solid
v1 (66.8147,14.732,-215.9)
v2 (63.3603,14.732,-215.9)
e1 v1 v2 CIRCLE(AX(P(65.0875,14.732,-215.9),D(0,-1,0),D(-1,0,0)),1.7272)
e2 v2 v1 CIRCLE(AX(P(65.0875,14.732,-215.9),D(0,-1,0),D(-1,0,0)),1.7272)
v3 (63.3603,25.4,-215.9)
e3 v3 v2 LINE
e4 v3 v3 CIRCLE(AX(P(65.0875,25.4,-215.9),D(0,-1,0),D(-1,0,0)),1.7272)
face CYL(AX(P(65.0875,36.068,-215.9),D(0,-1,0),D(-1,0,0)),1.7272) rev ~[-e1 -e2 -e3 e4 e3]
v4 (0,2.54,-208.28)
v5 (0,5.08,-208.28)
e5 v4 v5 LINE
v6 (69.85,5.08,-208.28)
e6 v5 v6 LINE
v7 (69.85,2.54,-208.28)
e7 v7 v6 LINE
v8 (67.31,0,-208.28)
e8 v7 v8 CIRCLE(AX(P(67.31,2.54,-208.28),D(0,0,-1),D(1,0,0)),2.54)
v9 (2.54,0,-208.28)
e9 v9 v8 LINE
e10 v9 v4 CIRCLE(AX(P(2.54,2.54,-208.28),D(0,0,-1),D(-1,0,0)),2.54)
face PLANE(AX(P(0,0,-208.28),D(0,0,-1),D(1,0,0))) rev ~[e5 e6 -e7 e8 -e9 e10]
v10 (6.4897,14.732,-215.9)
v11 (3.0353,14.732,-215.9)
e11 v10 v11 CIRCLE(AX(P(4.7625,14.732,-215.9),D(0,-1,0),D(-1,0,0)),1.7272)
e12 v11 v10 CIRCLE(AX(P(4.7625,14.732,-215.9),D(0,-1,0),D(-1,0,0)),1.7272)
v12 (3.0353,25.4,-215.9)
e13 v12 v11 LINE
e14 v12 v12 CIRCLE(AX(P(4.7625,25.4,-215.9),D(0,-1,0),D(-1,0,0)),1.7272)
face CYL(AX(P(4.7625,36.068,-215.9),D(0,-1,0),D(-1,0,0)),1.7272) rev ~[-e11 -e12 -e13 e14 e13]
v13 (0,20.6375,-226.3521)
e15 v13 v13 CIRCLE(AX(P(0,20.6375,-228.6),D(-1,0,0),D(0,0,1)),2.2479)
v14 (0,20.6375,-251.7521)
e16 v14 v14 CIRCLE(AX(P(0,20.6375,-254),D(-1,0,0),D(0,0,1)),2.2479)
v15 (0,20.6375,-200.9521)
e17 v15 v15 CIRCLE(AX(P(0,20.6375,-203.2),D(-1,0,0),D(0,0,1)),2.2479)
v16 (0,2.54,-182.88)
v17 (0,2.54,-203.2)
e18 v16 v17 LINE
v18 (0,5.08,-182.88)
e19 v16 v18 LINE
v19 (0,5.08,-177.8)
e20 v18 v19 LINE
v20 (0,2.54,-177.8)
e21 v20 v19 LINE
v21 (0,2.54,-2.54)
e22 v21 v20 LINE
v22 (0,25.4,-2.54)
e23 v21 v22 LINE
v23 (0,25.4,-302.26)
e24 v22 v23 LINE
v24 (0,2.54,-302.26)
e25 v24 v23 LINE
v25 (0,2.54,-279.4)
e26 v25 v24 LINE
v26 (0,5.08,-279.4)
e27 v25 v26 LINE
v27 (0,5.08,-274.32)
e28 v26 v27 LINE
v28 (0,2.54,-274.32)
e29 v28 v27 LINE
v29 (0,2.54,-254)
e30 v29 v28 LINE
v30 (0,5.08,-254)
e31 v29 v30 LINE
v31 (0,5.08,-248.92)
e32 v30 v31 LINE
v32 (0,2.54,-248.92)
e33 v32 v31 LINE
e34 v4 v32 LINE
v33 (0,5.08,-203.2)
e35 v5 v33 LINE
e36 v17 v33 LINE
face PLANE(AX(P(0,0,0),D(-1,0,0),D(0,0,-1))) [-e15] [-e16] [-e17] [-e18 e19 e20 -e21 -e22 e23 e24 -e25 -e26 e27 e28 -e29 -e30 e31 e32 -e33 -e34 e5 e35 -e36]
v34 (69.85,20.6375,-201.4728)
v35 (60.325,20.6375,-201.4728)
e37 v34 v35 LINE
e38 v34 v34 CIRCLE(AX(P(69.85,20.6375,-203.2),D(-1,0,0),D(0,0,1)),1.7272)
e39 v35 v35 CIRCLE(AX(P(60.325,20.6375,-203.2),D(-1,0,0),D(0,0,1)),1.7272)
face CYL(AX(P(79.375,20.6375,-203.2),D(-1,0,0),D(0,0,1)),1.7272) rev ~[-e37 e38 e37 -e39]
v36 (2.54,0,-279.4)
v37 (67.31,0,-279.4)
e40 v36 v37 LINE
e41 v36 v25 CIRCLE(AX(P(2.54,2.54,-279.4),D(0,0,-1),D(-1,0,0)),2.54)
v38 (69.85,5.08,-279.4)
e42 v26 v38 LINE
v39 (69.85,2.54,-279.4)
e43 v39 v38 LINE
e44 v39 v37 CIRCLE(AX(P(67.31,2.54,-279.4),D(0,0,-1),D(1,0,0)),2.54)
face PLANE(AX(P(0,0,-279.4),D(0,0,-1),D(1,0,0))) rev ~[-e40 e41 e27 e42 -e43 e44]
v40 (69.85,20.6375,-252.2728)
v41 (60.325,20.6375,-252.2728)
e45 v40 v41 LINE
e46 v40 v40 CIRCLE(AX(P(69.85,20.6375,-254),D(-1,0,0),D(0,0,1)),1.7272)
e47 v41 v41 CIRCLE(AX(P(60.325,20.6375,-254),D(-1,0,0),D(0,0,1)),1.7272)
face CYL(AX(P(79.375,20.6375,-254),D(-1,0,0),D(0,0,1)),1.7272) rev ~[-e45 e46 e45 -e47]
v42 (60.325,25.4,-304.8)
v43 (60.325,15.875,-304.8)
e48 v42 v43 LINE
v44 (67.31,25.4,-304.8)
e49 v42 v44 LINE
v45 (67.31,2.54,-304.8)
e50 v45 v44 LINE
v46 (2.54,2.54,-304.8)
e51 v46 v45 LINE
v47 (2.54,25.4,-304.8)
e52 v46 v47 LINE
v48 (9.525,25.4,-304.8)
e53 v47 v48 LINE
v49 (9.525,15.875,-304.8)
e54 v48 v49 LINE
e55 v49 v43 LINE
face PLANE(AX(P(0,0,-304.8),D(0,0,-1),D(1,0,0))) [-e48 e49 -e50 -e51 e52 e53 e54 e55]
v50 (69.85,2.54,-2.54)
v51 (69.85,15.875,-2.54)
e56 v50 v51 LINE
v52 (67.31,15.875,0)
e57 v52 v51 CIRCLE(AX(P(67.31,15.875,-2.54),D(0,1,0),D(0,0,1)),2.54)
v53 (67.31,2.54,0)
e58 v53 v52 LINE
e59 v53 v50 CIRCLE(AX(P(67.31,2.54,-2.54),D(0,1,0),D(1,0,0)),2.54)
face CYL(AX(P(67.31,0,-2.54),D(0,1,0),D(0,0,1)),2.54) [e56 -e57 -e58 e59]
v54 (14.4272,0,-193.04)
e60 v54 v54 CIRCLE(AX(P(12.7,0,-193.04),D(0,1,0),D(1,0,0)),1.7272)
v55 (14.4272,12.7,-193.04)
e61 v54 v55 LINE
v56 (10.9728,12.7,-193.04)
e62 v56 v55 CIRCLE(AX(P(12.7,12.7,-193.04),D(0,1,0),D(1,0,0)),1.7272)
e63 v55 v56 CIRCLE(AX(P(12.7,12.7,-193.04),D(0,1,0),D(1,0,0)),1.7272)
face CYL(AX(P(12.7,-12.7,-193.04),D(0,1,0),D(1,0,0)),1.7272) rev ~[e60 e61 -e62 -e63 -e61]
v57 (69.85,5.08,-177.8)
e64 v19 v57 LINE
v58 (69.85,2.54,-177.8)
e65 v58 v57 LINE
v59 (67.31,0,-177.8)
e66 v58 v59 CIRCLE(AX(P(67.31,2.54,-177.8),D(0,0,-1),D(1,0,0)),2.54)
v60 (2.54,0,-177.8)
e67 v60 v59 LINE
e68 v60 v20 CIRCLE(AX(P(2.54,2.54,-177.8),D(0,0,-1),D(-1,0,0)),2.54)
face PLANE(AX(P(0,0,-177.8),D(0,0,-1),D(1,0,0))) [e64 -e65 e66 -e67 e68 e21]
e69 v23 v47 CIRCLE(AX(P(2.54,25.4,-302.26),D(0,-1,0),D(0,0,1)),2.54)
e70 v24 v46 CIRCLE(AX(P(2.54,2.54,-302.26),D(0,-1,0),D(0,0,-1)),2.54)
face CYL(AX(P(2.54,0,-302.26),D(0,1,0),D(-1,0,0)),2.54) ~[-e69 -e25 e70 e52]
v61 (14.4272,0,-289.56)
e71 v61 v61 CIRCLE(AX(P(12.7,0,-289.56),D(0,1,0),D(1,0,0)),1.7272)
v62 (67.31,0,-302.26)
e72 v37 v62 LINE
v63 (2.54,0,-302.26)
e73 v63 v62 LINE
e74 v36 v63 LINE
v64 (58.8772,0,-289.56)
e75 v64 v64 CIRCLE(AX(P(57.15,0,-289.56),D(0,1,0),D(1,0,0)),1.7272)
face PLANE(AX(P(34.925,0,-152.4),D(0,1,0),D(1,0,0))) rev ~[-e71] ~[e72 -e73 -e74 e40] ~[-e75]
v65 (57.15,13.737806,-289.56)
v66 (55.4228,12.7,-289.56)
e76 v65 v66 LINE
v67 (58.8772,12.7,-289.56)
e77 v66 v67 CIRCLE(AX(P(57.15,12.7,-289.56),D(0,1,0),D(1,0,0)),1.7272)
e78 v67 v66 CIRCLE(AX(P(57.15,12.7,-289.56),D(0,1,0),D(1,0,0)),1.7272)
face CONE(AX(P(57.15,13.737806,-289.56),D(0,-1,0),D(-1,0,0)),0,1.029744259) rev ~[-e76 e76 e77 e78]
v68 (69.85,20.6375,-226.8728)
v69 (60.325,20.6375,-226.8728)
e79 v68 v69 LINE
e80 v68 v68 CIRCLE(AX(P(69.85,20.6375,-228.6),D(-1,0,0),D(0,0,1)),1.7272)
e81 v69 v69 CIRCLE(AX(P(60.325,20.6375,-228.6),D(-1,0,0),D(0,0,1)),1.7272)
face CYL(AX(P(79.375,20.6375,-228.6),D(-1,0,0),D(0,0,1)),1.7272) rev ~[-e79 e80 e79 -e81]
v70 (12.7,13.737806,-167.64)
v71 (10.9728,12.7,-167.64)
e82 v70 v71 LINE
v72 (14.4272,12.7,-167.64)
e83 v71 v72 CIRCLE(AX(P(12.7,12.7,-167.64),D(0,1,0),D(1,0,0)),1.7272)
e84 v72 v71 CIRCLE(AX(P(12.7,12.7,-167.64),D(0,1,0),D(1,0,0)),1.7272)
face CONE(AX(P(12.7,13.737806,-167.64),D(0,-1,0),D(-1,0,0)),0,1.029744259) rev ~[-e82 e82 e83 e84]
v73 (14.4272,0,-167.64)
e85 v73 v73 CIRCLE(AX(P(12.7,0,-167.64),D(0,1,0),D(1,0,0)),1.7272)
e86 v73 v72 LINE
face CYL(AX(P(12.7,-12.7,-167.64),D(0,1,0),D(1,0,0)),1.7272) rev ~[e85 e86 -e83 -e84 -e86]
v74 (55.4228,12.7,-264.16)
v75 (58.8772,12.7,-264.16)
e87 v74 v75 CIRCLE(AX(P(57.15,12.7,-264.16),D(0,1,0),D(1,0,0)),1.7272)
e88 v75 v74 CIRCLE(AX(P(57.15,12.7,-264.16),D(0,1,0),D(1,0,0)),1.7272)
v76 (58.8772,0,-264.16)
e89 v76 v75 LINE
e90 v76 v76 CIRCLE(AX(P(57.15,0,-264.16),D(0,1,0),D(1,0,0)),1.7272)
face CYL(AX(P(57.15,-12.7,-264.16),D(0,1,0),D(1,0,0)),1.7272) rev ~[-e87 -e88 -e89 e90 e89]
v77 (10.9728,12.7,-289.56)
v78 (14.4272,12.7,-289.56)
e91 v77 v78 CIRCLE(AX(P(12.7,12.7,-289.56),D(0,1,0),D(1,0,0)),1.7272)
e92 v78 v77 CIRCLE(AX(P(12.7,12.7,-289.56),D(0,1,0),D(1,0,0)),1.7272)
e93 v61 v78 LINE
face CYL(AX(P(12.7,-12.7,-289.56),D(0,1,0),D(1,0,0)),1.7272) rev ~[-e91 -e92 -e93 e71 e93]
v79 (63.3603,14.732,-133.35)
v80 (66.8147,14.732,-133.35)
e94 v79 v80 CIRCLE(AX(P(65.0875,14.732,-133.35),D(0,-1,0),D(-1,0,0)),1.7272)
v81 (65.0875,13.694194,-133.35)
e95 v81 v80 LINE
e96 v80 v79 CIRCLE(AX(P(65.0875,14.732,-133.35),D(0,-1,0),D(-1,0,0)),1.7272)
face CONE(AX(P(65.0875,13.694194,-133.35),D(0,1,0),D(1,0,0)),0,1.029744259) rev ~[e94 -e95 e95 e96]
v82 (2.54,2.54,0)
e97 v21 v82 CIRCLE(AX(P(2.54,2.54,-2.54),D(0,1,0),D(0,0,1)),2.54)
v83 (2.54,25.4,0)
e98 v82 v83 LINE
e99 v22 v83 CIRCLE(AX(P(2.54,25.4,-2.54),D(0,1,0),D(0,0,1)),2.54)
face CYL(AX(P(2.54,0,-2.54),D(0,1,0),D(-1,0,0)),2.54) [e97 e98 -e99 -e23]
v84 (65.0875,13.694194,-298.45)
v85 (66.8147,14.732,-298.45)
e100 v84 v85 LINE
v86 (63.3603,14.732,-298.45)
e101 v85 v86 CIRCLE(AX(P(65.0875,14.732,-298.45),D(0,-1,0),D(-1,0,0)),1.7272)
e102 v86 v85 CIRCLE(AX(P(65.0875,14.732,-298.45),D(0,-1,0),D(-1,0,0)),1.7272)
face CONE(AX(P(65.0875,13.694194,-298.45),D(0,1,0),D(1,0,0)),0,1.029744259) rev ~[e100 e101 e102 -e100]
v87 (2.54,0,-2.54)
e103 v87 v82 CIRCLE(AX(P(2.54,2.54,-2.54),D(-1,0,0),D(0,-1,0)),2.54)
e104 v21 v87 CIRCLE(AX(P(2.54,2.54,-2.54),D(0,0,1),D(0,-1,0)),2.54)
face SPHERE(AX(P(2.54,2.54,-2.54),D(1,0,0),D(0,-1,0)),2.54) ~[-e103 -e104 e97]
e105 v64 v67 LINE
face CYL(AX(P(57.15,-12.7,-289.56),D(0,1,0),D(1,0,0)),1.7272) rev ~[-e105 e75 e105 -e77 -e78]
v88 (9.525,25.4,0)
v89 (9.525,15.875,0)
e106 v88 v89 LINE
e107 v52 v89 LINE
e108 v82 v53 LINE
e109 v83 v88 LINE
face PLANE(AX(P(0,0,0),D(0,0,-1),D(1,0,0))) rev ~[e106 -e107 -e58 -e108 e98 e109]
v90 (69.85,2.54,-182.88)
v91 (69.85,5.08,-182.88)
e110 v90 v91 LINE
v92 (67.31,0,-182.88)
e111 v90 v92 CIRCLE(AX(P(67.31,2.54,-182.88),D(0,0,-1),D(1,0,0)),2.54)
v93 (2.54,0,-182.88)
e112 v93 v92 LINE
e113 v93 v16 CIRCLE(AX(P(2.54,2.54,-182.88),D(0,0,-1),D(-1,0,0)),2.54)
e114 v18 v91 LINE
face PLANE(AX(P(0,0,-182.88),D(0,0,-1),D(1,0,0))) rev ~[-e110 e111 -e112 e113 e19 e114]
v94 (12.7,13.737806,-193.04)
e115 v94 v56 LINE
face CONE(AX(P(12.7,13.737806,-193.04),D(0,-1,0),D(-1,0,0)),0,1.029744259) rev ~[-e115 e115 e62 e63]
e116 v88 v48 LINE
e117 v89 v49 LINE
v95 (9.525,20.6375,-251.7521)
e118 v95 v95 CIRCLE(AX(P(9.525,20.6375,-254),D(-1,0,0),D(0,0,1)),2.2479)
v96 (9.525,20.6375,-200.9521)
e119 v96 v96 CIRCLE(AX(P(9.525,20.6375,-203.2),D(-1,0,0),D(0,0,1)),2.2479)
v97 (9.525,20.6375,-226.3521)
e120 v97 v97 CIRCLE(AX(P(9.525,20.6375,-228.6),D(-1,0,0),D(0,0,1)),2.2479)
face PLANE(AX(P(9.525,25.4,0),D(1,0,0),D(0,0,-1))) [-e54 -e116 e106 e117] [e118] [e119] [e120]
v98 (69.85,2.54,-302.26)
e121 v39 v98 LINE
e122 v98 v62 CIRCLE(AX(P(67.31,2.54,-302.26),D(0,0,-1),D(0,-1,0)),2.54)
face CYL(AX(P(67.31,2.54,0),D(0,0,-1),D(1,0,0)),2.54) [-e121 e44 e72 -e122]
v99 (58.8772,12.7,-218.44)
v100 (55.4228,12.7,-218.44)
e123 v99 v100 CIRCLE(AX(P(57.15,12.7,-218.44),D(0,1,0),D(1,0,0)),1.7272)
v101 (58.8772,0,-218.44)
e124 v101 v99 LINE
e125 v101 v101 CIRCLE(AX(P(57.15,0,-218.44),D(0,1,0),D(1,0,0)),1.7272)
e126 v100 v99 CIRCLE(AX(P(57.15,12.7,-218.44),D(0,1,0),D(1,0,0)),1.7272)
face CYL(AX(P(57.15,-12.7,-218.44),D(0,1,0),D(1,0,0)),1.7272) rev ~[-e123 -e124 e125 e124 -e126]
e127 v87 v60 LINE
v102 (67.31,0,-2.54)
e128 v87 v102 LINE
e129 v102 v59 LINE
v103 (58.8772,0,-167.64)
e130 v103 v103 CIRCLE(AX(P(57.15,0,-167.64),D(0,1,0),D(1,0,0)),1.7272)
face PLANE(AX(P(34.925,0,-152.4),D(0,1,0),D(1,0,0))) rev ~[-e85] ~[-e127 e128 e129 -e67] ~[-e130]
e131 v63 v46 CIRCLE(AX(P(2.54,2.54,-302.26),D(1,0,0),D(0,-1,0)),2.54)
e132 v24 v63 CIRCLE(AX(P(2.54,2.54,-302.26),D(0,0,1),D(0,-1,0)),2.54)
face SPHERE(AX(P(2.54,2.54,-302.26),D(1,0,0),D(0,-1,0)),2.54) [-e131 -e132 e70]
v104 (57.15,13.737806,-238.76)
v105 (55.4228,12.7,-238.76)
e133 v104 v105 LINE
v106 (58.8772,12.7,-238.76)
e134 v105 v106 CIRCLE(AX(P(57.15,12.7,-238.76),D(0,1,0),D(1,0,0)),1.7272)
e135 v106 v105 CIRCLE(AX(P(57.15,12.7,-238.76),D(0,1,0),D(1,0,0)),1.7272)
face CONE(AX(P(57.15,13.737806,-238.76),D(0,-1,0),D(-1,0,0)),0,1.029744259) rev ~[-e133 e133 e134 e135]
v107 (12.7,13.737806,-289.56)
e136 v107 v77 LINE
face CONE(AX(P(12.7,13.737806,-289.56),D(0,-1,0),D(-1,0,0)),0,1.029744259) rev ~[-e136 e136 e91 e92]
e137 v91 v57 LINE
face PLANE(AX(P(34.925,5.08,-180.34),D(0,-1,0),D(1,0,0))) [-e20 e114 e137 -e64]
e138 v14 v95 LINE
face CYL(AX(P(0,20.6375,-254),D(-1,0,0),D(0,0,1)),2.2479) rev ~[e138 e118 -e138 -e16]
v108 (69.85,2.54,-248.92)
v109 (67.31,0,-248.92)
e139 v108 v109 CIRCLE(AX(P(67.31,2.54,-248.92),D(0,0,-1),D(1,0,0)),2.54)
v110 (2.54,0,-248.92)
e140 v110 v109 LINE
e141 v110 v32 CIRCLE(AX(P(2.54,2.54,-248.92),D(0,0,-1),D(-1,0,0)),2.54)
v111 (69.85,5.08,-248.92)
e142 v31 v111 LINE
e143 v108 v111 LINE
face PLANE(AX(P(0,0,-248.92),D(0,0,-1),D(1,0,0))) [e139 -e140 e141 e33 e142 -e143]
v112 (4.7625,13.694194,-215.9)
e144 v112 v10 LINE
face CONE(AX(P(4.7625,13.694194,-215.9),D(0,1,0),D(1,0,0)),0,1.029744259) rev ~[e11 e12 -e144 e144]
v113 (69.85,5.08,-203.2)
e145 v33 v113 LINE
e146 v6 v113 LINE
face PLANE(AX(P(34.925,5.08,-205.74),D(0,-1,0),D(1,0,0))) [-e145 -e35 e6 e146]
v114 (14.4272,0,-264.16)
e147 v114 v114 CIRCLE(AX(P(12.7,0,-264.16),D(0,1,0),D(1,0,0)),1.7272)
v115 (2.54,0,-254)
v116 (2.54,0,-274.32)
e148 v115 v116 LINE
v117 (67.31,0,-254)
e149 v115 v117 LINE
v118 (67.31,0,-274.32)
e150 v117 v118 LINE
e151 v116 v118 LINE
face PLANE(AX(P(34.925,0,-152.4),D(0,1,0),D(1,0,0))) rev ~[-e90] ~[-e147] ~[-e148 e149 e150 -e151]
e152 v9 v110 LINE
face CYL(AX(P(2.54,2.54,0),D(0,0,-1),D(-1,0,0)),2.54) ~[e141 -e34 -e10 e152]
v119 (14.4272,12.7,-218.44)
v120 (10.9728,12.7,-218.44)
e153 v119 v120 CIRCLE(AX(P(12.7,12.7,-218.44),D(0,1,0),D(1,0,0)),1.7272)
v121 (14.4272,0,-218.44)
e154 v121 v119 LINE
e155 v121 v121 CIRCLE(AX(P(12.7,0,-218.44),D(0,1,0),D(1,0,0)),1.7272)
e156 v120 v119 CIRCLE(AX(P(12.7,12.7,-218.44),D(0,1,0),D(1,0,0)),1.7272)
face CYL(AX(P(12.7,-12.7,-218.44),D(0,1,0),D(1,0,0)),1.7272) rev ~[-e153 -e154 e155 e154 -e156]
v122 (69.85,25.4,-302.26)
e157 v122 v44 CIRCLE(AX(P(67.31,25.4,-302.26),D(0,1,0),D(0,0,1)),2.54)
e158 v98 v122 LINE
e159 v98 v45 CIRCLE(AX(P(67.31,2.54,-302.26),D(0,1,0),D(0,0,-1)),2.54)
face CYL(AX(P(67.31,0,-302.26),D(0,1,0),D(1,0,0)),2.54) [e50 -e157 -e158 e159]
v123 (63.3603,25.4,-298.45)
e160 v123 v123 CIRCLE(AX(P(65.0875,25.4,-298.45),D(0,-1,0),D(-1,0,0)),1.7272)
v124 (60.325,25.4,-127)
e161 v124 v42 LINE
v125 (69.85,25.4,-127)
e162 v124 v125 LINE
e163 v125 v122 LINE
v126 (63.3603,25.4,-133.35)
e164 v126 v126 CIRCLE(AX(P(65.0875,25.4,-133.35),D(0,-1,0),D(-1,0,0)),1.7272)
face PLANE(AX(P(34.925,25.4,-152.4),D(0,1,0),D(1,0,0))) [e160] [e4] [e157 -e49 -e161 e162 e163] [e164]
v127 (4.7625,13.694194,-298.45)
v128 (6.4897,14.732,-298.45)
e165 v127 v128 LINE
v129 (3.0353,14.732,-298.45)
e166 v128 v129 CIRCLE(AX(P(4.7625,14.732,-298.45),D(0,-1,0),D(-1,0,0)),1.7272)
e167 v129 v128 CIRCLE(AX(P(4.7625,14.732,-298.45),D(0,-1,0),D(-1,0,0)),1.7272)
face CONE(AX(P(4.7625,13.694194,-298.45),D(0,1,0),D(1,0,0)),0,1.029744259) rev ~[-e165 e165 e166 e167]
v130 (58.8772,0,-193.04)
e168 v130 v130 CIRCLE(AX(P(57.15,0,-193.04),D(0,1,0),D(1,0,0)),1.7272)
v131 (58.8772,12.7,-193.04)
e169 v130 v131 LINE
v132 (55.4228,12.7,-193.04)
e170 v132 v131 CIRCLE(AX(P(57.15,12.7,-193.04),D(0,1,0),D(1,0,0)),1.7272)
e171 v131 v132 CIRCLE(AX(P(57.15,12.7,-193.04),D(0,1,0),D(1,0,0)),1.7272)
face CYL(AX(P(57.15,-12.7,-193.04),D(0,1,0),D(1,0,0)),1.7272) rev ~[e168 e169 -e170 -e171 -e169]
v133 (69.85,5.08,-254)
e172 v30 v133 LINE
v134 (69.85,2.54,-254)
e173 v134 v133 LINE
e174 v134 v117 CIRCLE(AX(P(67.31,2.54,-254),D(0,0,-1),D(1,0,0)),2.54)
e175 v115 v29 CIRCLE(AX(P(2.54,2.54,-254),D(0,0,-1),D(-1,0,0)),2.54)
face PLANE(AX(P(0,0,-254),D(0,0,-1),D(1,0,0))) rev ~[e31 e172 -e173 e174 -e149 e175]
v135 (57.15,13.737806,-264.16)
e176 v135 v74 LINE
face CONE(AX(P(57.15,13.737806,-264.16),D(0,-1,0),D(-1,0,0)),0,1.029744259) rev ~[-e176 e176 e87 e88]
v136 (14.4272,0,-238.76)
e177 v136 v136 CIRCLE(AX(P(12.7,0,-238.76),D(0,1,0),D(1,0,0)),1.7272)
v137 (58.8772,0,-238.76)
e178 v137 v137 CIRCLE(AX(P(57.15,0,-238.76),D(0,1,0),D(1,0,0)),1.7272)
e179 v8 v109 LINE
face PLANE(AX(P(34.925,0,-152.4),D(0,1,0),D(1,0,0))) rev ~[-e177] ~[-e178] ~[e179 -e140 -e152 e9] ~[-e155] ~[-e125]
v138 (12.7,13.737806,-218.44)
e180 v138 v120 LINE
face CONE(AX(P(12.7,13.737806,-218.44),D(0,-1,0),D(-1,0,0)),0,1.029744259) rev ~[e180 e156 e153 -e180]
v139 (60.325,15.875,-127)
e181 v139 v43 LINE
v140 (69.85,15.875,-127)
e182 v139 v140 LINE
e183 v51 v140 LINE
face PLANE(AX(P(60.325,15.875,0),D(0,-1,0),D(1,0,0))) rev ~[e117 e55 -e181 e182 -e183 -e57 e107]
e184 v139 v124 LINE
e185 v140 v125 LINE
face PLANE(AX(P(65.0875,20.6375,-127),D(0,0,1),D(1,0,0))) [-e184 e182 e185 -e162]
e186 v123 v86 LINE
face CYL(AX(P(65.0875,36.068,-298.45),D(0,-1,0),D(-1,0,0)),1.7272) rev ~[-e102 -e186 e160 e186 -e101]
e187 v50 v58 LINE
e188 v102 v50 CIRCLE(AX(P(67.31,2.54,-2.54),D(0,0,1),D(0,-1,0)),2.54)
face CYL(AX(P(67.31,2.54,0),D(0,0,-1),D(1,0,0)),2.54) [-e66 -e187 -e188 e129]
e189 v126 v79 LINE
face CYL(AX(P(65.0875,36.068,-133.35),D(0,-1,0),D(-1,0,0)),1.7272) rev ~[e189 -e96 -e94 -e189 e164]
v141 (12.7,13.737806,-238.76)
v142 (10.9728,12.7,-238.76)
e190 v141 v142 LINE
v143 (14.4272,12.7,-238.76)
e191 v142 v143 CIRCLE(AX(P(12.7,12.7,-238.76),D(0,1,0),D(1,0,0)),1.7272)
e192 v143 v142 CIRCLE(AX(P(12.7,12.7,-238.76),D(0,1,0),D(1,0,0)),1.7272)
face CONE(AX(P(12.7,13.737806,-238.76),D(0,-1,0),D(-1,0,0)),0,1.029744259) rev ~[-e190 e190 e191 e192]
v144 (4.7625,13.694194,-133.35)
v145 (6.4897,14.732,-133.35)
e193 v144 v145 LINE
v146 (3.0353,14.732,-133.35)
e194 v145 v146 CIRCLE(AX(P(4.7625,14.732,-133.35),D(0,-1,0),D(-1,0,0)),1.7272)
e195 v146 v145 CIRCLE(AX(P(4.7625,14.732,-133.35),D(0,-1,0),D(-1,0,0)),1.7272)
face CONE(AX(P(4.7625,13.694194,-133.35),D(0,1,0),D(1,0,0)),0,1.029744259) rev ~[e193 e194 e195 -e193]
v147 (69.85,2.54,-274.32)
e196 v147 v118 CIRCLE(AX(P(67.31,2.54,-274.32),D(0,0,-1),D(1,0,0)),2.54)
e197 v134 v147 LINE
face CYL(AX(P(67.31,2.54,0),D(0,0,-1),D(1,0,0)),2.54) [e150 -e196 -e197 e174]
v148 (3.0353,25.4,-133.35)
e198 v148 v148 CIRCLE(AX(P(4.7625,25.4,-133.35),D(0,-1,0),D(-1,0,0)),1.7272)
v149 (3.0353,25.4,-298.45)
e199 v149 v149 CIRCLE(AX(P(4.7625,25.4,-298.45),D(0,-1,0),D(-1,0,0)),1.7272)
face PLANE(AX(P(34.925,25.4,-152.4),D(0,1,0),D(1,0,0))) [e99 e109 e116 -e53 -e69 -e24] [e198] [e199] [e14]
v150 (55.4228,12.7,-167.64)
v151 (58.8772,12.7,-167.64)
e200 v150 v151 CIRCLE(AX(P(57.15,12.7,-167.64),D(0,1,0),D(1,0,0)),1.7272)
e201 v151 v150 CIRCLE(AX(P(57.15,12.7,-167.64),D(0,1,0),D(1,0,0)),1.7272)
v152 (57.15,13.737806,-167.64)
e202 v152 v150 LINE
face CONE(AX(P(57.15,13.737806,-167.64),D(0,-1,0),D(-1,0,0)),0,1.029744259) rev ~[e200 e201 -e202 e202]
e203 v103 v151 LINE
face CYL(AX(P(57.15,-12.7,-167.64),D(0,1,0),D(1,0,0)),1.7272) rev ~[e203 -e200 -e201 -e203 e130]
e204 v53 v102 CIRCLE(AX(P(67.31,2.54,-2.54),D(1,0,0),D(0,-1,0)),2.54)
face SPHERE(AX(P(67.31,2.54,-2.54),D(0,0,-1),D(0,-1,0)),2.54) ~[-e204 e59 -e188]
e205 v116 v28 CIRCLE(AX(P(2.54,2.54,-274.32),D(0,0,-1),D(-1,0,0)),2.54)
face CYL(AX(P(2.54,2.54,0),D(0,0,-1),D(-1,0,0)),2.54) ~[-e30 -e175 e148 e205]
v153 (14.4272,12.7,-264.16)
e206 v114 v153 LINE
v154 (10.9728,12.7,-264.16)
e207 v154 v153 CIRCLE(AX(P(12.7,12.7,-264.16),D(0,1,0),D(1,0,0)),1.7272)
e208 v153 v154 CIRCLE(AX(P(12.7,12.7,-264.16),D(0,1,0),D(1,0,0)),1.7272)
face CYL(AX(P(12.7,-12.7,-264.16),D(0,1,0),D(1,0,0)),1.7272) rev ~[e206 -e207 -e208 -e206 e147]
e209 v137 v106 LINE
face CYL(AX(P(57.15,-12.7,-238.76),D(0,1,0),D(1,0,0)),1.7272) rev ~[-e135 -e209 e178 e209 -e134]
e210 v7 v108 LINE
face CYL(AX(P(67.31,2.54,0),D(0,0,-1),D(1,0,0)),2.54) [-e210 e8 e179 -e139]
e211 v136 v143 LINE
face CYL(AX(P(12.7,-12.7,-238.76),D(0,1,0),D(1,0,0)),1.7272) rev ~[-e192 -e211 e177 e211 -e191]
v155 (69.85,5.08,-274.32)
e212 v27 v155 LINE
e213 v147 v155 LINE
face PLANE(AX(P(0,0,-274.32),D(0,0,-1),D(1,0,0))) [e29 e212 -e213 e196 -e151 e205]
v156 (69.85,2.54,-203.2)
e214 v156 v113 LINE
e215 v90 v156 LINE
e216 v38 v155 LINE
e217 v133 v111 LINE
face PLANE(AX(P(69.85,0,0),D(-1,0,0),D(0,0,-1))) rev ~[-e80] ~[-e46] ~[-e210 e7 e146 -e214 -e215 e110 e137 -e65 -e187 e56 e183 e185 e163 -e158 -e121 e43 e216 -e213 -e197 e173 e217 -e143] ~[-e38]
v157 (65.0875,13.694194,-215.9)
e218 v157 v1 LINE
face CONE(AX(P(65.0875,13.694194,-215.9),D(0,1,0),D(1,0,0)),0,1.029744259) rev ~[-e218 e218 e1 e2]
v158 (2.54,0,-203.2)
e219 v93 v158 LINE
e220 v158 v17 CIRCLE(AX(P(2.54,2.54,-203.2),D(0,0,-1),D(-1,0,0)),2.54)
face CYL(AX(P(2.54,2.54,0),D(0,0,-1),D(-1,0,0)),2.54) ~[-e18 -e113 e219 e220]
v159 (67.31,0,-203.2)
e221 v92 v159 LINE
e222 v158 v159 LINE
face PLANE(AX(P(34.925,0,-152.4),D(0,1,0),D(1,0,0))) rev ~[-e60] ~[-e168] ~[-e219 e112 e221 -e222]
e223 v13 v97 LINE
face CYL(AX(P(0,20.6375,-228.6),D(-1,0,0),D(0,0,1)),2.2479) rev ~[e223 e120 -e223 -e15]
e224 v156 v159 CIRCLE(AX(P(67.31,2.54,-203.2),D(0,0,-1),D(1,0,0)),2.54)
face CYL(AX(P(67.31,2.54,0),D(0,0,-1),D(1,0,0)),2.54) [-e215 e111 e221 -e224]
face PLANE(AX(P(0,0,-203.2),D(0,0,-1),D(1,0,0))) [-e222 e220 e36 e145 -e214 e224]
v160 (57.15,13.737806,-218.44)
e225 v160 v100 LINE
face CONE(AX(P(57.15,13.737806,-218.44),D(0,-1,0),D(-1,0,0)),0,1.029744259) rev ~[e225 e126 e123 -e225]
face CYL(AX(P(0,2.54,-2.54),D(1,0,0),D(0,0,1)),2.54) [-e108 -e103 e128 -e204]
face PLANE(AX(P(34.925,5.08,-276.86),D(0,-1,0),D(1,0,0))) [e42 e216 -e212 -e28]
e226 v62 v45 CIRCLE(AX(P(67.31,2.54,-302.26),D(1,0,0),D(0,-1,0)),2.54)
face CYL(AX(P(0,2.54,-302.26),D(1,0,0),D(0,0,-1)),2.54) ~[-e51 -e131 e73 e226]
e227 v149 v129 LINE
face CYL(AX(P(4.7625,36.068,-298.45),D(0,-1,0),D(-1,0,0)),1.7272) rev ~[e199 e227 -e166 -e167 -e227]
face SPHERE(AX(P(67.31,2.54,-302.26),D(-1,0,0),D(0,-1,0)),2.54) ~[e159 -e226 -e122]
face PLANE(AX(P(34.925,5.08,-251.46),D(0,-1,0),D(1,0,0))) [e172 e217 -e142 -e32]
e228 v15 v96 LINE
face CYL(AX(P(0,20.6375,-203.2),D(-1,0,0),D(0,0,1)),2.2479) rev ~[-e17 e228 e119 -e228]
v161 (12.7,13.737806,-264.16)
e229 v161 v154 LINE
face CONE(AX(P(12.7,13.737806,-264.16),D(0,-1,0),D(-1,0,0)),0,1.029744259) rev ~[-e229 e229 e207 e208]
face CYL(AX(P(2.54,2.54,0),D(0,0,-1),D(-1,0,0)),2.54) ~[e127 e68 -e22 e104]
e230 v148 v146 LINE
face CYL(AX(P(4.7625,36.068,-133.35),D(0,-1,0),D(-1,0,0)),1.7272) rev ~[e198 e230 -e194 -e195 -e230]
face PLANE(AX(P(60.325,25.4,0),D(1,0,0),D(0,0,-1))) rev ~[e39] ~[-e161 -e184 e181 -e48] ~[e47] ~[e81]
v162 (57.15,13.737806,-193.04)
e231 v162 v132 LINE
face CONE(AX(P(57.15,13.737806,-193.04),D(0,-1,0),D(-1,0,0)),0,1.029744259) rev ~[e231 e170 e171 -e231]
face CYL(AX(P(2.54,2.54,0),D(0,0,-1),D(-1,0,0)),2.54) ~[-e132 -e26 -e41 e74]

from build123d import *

# Parameters (mm, degrees)
SKETCH1_W                 = 69.85
SKETCH1_H                 = 304.8
BOSS_EXTRUDE1_DEPTH       = 25.4
FILLET1_R                 = 2.54
SKETCH2_W                 = 69.85
SKETCH2_H                 = 5.08
CUT_EXTRUDE1_DEPTH        = 5.08
SKETCH3_W                 = 50.8
SKETCH3_H                 = 304.8
CUT_EXTRUDE2_DEPTH        = 9.525
CUT_EXTRUDE3_REACH        = 71.85
SKETCH4_R                 = 2.2479
F_8_32_TAPPED_HOLE1_D     = 3.4544
F_8_32_TAPPED_HOLE1_DEPTH = 10.668
F_8_32_TAPPED_HOLE1_TIP   = 1.037806461
F_8_32_TAPPED_HOLE2_D     = 3.4544
F_8_32_TAPPED_HOLE2_DEPTH = 9.525
F_8_32_TAPPED_HOLE3_D     = 3.4544
F_8_32_TAPPED_HOLE3_DEPTH = 12.7
F_8_32_TAPPED_HOLE3_TIP   = 1.037806461
SKETCH16_W                = 9.525
SKETCH16_H                = 9.525
CUT_EXTRUDE4_DEPTH        = 127


with BuildPart() as part:
    # Sketch1 → Boss-Extrude1 (new body)
    with BuildSketch(Plane(origin=(0, 0, 0), x_dir=(1, 0, 0), z_dir=(0, 1, 0))):
        with Locations((34.925, 152.4)):
            Rectangle(SKETCH1_W, SKETCH1_H)
    extrude(amount=BOSS_EXTRUDE1_DEPTH)

    # Fillet1
    fillet1_edges = [part.edges().sort_by_distance(p)[0] for p in [
        (34.925, 0, -304.8),
        (69.85, 0, -152.4),
        (34.925, 0, 0),
        (0, 0, -152.4),
        (0, 12.7, -304.8),
        (69.85, 12.7, -304.8),
        (69.85, 12.7, 0),
        (0, 12.7, 0),
    ]]
    fillet(fillet1_edges, radius=FILLET1_R)

    # Sketch2 → Cut-Extrude1 (cut)
    with BuildSketch(Plane.XZ):
        with Locations((34.925, -180.34)):
            Rectangle(SKETCH2_W, SKETCH2_H)
        with Locations((34.925, -205.74)):
            Rectangle(SKETCH2_W, SKETCH2_H)
        with Locations((34.925, -251.46)):
            Rectangle(SKETCH2_W, SKETCH2_H)
        with Locations((34.925, -276.86)):
            Rectangle(SKETCH2_W, SKETCH2_H)
    extrude(amount=-CUT_EXTRUDE1_DEPTH, mode=Mode.SUBTRACT)

    # Sketch3 → Cut-Extrude2 (cut)
    with BuildSketch(Plane(origin=(0, 25.4, 0), x_dir=(1, 0, 0), z_dir=(0, 1, 0))):
        with Locations((34.925, 152.4)):
            Rectangle(SKETCH3_W, SKETCH3_H)
    extrude(amount=-CUT_EXTRUDE2_DEPTH, mode=Mode.SUBTRACT)

    # Sketch4 → Cut-Extrude3 (cut, up to next)
    with BuildSketch(Plane.ZY, mode=Mode.PRIVATE) as cut_extrude3_sk1:
        with Locations((-203.2, 20.6375)):
            Circle(SKETCH4_R)
    cut_extrude3_tool1 = extrude(cut_extrude3_sk1.sketch, amount=-CUT_EXTRUDE3_REACH, mode=Mode.PRIVATE) & part.part
    add(cut_extrude3_tool1.solids().sort_by_distance((0, 20.6375, -203.2))[0], mode=Mode.SUBTRACT)
    # Sketch4 → Cut-Extrude3 (cut, up to next)
    with BuildSketch(Plane.ZY, mode=Mode.PRIVATE) as cut_extrude3_sk2:
        with Locations((-228.6, 20.6375)):
            Circle(SKETCH4_R)
    cut_extrude3_tool2 = extrude(cut_extrude3_sk2.sketch, amount=-CUT_EXTRUDE3_REACH, mode=Mode.PRIVATE) & part.part
    add(cut_extrude3_tool2.solids().sort_by_distance((0, 20.6375, -228.6))[0], mode=Mode.SUBTRACT)
    # Sketch4 → Cut-Extrude3 (cut, up to next)
    with BuildSketch(Plane.ZY, mode=Mode.PRIVATE) as cut_extrude3_sk3:
        with Locations((-254, 20.6375)):
            Circle(SKETCH4_R)
    cut_extrude3_tool3 = extrude(cut_extrude3_sk3.sketch, amount=-CUT_EXTRUDE3_REACH, mode=Mode.PRIVATE) & part.part
    add(cut_extrude3_tool3.solids().sort_by_distance((0, 20.6375, -254))[0], mode=Mode.SUBTRACT)

    # #8-32 Tapped Hole1
    with Locations(Plane(origin=(0, 25.4, 0), x_dir=(1, 0, 0), z_dir=(0, 1, 0))):
        with Locations((65.0875, 298.45), (4.7625, 298.45), (65.0875, 215.9), (4.7625, 215.9), (65.0875, 133.35), (4.7625, 133.35)):
            Hole(F_8_32_TAPPED_HOLE1_D / 2, depth=F_8_32_TAPPED_HOLE1_DEPTH)
            with Locations((0, 0, -(F_8_32_TAPPED_HOLE1_DEPTH + F_8_32_TAPPED_HOLE1_TIP / 2))):  # 118° drill point
                Cone(0, F_8_32_TAPPED_HOLE1_D / 2, F_8_32_TAPPED_HOLE1_TIP, mode=Mode.SUBTRACT)

    # #8-32 Tapped Hole2
    with Locations(Plane(origin=(69.85, 0, 0), x_dir=(0, 0, -1), z_dir=(1, 0, 0))):
        with Locations((203.2, 20.6375), (228.6, 20.6375), (254, 20.6375)):
            Hole(F_8_32_TAPPED_HOLE2_D / 2, depth=F_8_32_TAPPED_HOLE2_DEPTH)

    # #8-32 Tapped Hole3
    with Locations(Plane(origin=(0, 0, 0), x_dir=(-1, 0, 0), z_dir=(0, -1, 0))):
        with Locations((-12.7, 289.56), (-57.15, 289.56), (-12.7, 264.16), (-57.15, 264.16), (-12.7, 238.76), (-57.15, 238.76), (-12.7, 218.44), (-57.15, 218.44), (-12.7, 193.04), (-57.15, 193.04), (-12.7, 167.64), (-57.15, 167.64)):
            Hole(F_8_32_TAPPED_HOLE3_D / 2, depth=F_8_32_TAPPED_HOLE3_DEPTH)
            with Locations((0, 0, -(F_8_32_TAPPED_HOLE3_DEPTH + F_8_32_TAPPED_HOLE3_TIP / 2))):  # 118° drill point
                Cone(0, F_8_32_TAPPED_HOLE3_D / 2, F_8_32_TAPPED_HOLE3_TIP, mode=Mode.SUBTRACT)

    # Sketch16 → Cut-Extrude4 (cut)
    with BuildSketch(Plane.XY):
        with Locations((65.0875, 20.6375)):
            Rectangle(SKETCH16_W, SKETCH16_H)
    extrude(amount=-CUT_EXTRUDE4_DEPTH, mode=Mode.SUBTRACT)


solid = part.part
